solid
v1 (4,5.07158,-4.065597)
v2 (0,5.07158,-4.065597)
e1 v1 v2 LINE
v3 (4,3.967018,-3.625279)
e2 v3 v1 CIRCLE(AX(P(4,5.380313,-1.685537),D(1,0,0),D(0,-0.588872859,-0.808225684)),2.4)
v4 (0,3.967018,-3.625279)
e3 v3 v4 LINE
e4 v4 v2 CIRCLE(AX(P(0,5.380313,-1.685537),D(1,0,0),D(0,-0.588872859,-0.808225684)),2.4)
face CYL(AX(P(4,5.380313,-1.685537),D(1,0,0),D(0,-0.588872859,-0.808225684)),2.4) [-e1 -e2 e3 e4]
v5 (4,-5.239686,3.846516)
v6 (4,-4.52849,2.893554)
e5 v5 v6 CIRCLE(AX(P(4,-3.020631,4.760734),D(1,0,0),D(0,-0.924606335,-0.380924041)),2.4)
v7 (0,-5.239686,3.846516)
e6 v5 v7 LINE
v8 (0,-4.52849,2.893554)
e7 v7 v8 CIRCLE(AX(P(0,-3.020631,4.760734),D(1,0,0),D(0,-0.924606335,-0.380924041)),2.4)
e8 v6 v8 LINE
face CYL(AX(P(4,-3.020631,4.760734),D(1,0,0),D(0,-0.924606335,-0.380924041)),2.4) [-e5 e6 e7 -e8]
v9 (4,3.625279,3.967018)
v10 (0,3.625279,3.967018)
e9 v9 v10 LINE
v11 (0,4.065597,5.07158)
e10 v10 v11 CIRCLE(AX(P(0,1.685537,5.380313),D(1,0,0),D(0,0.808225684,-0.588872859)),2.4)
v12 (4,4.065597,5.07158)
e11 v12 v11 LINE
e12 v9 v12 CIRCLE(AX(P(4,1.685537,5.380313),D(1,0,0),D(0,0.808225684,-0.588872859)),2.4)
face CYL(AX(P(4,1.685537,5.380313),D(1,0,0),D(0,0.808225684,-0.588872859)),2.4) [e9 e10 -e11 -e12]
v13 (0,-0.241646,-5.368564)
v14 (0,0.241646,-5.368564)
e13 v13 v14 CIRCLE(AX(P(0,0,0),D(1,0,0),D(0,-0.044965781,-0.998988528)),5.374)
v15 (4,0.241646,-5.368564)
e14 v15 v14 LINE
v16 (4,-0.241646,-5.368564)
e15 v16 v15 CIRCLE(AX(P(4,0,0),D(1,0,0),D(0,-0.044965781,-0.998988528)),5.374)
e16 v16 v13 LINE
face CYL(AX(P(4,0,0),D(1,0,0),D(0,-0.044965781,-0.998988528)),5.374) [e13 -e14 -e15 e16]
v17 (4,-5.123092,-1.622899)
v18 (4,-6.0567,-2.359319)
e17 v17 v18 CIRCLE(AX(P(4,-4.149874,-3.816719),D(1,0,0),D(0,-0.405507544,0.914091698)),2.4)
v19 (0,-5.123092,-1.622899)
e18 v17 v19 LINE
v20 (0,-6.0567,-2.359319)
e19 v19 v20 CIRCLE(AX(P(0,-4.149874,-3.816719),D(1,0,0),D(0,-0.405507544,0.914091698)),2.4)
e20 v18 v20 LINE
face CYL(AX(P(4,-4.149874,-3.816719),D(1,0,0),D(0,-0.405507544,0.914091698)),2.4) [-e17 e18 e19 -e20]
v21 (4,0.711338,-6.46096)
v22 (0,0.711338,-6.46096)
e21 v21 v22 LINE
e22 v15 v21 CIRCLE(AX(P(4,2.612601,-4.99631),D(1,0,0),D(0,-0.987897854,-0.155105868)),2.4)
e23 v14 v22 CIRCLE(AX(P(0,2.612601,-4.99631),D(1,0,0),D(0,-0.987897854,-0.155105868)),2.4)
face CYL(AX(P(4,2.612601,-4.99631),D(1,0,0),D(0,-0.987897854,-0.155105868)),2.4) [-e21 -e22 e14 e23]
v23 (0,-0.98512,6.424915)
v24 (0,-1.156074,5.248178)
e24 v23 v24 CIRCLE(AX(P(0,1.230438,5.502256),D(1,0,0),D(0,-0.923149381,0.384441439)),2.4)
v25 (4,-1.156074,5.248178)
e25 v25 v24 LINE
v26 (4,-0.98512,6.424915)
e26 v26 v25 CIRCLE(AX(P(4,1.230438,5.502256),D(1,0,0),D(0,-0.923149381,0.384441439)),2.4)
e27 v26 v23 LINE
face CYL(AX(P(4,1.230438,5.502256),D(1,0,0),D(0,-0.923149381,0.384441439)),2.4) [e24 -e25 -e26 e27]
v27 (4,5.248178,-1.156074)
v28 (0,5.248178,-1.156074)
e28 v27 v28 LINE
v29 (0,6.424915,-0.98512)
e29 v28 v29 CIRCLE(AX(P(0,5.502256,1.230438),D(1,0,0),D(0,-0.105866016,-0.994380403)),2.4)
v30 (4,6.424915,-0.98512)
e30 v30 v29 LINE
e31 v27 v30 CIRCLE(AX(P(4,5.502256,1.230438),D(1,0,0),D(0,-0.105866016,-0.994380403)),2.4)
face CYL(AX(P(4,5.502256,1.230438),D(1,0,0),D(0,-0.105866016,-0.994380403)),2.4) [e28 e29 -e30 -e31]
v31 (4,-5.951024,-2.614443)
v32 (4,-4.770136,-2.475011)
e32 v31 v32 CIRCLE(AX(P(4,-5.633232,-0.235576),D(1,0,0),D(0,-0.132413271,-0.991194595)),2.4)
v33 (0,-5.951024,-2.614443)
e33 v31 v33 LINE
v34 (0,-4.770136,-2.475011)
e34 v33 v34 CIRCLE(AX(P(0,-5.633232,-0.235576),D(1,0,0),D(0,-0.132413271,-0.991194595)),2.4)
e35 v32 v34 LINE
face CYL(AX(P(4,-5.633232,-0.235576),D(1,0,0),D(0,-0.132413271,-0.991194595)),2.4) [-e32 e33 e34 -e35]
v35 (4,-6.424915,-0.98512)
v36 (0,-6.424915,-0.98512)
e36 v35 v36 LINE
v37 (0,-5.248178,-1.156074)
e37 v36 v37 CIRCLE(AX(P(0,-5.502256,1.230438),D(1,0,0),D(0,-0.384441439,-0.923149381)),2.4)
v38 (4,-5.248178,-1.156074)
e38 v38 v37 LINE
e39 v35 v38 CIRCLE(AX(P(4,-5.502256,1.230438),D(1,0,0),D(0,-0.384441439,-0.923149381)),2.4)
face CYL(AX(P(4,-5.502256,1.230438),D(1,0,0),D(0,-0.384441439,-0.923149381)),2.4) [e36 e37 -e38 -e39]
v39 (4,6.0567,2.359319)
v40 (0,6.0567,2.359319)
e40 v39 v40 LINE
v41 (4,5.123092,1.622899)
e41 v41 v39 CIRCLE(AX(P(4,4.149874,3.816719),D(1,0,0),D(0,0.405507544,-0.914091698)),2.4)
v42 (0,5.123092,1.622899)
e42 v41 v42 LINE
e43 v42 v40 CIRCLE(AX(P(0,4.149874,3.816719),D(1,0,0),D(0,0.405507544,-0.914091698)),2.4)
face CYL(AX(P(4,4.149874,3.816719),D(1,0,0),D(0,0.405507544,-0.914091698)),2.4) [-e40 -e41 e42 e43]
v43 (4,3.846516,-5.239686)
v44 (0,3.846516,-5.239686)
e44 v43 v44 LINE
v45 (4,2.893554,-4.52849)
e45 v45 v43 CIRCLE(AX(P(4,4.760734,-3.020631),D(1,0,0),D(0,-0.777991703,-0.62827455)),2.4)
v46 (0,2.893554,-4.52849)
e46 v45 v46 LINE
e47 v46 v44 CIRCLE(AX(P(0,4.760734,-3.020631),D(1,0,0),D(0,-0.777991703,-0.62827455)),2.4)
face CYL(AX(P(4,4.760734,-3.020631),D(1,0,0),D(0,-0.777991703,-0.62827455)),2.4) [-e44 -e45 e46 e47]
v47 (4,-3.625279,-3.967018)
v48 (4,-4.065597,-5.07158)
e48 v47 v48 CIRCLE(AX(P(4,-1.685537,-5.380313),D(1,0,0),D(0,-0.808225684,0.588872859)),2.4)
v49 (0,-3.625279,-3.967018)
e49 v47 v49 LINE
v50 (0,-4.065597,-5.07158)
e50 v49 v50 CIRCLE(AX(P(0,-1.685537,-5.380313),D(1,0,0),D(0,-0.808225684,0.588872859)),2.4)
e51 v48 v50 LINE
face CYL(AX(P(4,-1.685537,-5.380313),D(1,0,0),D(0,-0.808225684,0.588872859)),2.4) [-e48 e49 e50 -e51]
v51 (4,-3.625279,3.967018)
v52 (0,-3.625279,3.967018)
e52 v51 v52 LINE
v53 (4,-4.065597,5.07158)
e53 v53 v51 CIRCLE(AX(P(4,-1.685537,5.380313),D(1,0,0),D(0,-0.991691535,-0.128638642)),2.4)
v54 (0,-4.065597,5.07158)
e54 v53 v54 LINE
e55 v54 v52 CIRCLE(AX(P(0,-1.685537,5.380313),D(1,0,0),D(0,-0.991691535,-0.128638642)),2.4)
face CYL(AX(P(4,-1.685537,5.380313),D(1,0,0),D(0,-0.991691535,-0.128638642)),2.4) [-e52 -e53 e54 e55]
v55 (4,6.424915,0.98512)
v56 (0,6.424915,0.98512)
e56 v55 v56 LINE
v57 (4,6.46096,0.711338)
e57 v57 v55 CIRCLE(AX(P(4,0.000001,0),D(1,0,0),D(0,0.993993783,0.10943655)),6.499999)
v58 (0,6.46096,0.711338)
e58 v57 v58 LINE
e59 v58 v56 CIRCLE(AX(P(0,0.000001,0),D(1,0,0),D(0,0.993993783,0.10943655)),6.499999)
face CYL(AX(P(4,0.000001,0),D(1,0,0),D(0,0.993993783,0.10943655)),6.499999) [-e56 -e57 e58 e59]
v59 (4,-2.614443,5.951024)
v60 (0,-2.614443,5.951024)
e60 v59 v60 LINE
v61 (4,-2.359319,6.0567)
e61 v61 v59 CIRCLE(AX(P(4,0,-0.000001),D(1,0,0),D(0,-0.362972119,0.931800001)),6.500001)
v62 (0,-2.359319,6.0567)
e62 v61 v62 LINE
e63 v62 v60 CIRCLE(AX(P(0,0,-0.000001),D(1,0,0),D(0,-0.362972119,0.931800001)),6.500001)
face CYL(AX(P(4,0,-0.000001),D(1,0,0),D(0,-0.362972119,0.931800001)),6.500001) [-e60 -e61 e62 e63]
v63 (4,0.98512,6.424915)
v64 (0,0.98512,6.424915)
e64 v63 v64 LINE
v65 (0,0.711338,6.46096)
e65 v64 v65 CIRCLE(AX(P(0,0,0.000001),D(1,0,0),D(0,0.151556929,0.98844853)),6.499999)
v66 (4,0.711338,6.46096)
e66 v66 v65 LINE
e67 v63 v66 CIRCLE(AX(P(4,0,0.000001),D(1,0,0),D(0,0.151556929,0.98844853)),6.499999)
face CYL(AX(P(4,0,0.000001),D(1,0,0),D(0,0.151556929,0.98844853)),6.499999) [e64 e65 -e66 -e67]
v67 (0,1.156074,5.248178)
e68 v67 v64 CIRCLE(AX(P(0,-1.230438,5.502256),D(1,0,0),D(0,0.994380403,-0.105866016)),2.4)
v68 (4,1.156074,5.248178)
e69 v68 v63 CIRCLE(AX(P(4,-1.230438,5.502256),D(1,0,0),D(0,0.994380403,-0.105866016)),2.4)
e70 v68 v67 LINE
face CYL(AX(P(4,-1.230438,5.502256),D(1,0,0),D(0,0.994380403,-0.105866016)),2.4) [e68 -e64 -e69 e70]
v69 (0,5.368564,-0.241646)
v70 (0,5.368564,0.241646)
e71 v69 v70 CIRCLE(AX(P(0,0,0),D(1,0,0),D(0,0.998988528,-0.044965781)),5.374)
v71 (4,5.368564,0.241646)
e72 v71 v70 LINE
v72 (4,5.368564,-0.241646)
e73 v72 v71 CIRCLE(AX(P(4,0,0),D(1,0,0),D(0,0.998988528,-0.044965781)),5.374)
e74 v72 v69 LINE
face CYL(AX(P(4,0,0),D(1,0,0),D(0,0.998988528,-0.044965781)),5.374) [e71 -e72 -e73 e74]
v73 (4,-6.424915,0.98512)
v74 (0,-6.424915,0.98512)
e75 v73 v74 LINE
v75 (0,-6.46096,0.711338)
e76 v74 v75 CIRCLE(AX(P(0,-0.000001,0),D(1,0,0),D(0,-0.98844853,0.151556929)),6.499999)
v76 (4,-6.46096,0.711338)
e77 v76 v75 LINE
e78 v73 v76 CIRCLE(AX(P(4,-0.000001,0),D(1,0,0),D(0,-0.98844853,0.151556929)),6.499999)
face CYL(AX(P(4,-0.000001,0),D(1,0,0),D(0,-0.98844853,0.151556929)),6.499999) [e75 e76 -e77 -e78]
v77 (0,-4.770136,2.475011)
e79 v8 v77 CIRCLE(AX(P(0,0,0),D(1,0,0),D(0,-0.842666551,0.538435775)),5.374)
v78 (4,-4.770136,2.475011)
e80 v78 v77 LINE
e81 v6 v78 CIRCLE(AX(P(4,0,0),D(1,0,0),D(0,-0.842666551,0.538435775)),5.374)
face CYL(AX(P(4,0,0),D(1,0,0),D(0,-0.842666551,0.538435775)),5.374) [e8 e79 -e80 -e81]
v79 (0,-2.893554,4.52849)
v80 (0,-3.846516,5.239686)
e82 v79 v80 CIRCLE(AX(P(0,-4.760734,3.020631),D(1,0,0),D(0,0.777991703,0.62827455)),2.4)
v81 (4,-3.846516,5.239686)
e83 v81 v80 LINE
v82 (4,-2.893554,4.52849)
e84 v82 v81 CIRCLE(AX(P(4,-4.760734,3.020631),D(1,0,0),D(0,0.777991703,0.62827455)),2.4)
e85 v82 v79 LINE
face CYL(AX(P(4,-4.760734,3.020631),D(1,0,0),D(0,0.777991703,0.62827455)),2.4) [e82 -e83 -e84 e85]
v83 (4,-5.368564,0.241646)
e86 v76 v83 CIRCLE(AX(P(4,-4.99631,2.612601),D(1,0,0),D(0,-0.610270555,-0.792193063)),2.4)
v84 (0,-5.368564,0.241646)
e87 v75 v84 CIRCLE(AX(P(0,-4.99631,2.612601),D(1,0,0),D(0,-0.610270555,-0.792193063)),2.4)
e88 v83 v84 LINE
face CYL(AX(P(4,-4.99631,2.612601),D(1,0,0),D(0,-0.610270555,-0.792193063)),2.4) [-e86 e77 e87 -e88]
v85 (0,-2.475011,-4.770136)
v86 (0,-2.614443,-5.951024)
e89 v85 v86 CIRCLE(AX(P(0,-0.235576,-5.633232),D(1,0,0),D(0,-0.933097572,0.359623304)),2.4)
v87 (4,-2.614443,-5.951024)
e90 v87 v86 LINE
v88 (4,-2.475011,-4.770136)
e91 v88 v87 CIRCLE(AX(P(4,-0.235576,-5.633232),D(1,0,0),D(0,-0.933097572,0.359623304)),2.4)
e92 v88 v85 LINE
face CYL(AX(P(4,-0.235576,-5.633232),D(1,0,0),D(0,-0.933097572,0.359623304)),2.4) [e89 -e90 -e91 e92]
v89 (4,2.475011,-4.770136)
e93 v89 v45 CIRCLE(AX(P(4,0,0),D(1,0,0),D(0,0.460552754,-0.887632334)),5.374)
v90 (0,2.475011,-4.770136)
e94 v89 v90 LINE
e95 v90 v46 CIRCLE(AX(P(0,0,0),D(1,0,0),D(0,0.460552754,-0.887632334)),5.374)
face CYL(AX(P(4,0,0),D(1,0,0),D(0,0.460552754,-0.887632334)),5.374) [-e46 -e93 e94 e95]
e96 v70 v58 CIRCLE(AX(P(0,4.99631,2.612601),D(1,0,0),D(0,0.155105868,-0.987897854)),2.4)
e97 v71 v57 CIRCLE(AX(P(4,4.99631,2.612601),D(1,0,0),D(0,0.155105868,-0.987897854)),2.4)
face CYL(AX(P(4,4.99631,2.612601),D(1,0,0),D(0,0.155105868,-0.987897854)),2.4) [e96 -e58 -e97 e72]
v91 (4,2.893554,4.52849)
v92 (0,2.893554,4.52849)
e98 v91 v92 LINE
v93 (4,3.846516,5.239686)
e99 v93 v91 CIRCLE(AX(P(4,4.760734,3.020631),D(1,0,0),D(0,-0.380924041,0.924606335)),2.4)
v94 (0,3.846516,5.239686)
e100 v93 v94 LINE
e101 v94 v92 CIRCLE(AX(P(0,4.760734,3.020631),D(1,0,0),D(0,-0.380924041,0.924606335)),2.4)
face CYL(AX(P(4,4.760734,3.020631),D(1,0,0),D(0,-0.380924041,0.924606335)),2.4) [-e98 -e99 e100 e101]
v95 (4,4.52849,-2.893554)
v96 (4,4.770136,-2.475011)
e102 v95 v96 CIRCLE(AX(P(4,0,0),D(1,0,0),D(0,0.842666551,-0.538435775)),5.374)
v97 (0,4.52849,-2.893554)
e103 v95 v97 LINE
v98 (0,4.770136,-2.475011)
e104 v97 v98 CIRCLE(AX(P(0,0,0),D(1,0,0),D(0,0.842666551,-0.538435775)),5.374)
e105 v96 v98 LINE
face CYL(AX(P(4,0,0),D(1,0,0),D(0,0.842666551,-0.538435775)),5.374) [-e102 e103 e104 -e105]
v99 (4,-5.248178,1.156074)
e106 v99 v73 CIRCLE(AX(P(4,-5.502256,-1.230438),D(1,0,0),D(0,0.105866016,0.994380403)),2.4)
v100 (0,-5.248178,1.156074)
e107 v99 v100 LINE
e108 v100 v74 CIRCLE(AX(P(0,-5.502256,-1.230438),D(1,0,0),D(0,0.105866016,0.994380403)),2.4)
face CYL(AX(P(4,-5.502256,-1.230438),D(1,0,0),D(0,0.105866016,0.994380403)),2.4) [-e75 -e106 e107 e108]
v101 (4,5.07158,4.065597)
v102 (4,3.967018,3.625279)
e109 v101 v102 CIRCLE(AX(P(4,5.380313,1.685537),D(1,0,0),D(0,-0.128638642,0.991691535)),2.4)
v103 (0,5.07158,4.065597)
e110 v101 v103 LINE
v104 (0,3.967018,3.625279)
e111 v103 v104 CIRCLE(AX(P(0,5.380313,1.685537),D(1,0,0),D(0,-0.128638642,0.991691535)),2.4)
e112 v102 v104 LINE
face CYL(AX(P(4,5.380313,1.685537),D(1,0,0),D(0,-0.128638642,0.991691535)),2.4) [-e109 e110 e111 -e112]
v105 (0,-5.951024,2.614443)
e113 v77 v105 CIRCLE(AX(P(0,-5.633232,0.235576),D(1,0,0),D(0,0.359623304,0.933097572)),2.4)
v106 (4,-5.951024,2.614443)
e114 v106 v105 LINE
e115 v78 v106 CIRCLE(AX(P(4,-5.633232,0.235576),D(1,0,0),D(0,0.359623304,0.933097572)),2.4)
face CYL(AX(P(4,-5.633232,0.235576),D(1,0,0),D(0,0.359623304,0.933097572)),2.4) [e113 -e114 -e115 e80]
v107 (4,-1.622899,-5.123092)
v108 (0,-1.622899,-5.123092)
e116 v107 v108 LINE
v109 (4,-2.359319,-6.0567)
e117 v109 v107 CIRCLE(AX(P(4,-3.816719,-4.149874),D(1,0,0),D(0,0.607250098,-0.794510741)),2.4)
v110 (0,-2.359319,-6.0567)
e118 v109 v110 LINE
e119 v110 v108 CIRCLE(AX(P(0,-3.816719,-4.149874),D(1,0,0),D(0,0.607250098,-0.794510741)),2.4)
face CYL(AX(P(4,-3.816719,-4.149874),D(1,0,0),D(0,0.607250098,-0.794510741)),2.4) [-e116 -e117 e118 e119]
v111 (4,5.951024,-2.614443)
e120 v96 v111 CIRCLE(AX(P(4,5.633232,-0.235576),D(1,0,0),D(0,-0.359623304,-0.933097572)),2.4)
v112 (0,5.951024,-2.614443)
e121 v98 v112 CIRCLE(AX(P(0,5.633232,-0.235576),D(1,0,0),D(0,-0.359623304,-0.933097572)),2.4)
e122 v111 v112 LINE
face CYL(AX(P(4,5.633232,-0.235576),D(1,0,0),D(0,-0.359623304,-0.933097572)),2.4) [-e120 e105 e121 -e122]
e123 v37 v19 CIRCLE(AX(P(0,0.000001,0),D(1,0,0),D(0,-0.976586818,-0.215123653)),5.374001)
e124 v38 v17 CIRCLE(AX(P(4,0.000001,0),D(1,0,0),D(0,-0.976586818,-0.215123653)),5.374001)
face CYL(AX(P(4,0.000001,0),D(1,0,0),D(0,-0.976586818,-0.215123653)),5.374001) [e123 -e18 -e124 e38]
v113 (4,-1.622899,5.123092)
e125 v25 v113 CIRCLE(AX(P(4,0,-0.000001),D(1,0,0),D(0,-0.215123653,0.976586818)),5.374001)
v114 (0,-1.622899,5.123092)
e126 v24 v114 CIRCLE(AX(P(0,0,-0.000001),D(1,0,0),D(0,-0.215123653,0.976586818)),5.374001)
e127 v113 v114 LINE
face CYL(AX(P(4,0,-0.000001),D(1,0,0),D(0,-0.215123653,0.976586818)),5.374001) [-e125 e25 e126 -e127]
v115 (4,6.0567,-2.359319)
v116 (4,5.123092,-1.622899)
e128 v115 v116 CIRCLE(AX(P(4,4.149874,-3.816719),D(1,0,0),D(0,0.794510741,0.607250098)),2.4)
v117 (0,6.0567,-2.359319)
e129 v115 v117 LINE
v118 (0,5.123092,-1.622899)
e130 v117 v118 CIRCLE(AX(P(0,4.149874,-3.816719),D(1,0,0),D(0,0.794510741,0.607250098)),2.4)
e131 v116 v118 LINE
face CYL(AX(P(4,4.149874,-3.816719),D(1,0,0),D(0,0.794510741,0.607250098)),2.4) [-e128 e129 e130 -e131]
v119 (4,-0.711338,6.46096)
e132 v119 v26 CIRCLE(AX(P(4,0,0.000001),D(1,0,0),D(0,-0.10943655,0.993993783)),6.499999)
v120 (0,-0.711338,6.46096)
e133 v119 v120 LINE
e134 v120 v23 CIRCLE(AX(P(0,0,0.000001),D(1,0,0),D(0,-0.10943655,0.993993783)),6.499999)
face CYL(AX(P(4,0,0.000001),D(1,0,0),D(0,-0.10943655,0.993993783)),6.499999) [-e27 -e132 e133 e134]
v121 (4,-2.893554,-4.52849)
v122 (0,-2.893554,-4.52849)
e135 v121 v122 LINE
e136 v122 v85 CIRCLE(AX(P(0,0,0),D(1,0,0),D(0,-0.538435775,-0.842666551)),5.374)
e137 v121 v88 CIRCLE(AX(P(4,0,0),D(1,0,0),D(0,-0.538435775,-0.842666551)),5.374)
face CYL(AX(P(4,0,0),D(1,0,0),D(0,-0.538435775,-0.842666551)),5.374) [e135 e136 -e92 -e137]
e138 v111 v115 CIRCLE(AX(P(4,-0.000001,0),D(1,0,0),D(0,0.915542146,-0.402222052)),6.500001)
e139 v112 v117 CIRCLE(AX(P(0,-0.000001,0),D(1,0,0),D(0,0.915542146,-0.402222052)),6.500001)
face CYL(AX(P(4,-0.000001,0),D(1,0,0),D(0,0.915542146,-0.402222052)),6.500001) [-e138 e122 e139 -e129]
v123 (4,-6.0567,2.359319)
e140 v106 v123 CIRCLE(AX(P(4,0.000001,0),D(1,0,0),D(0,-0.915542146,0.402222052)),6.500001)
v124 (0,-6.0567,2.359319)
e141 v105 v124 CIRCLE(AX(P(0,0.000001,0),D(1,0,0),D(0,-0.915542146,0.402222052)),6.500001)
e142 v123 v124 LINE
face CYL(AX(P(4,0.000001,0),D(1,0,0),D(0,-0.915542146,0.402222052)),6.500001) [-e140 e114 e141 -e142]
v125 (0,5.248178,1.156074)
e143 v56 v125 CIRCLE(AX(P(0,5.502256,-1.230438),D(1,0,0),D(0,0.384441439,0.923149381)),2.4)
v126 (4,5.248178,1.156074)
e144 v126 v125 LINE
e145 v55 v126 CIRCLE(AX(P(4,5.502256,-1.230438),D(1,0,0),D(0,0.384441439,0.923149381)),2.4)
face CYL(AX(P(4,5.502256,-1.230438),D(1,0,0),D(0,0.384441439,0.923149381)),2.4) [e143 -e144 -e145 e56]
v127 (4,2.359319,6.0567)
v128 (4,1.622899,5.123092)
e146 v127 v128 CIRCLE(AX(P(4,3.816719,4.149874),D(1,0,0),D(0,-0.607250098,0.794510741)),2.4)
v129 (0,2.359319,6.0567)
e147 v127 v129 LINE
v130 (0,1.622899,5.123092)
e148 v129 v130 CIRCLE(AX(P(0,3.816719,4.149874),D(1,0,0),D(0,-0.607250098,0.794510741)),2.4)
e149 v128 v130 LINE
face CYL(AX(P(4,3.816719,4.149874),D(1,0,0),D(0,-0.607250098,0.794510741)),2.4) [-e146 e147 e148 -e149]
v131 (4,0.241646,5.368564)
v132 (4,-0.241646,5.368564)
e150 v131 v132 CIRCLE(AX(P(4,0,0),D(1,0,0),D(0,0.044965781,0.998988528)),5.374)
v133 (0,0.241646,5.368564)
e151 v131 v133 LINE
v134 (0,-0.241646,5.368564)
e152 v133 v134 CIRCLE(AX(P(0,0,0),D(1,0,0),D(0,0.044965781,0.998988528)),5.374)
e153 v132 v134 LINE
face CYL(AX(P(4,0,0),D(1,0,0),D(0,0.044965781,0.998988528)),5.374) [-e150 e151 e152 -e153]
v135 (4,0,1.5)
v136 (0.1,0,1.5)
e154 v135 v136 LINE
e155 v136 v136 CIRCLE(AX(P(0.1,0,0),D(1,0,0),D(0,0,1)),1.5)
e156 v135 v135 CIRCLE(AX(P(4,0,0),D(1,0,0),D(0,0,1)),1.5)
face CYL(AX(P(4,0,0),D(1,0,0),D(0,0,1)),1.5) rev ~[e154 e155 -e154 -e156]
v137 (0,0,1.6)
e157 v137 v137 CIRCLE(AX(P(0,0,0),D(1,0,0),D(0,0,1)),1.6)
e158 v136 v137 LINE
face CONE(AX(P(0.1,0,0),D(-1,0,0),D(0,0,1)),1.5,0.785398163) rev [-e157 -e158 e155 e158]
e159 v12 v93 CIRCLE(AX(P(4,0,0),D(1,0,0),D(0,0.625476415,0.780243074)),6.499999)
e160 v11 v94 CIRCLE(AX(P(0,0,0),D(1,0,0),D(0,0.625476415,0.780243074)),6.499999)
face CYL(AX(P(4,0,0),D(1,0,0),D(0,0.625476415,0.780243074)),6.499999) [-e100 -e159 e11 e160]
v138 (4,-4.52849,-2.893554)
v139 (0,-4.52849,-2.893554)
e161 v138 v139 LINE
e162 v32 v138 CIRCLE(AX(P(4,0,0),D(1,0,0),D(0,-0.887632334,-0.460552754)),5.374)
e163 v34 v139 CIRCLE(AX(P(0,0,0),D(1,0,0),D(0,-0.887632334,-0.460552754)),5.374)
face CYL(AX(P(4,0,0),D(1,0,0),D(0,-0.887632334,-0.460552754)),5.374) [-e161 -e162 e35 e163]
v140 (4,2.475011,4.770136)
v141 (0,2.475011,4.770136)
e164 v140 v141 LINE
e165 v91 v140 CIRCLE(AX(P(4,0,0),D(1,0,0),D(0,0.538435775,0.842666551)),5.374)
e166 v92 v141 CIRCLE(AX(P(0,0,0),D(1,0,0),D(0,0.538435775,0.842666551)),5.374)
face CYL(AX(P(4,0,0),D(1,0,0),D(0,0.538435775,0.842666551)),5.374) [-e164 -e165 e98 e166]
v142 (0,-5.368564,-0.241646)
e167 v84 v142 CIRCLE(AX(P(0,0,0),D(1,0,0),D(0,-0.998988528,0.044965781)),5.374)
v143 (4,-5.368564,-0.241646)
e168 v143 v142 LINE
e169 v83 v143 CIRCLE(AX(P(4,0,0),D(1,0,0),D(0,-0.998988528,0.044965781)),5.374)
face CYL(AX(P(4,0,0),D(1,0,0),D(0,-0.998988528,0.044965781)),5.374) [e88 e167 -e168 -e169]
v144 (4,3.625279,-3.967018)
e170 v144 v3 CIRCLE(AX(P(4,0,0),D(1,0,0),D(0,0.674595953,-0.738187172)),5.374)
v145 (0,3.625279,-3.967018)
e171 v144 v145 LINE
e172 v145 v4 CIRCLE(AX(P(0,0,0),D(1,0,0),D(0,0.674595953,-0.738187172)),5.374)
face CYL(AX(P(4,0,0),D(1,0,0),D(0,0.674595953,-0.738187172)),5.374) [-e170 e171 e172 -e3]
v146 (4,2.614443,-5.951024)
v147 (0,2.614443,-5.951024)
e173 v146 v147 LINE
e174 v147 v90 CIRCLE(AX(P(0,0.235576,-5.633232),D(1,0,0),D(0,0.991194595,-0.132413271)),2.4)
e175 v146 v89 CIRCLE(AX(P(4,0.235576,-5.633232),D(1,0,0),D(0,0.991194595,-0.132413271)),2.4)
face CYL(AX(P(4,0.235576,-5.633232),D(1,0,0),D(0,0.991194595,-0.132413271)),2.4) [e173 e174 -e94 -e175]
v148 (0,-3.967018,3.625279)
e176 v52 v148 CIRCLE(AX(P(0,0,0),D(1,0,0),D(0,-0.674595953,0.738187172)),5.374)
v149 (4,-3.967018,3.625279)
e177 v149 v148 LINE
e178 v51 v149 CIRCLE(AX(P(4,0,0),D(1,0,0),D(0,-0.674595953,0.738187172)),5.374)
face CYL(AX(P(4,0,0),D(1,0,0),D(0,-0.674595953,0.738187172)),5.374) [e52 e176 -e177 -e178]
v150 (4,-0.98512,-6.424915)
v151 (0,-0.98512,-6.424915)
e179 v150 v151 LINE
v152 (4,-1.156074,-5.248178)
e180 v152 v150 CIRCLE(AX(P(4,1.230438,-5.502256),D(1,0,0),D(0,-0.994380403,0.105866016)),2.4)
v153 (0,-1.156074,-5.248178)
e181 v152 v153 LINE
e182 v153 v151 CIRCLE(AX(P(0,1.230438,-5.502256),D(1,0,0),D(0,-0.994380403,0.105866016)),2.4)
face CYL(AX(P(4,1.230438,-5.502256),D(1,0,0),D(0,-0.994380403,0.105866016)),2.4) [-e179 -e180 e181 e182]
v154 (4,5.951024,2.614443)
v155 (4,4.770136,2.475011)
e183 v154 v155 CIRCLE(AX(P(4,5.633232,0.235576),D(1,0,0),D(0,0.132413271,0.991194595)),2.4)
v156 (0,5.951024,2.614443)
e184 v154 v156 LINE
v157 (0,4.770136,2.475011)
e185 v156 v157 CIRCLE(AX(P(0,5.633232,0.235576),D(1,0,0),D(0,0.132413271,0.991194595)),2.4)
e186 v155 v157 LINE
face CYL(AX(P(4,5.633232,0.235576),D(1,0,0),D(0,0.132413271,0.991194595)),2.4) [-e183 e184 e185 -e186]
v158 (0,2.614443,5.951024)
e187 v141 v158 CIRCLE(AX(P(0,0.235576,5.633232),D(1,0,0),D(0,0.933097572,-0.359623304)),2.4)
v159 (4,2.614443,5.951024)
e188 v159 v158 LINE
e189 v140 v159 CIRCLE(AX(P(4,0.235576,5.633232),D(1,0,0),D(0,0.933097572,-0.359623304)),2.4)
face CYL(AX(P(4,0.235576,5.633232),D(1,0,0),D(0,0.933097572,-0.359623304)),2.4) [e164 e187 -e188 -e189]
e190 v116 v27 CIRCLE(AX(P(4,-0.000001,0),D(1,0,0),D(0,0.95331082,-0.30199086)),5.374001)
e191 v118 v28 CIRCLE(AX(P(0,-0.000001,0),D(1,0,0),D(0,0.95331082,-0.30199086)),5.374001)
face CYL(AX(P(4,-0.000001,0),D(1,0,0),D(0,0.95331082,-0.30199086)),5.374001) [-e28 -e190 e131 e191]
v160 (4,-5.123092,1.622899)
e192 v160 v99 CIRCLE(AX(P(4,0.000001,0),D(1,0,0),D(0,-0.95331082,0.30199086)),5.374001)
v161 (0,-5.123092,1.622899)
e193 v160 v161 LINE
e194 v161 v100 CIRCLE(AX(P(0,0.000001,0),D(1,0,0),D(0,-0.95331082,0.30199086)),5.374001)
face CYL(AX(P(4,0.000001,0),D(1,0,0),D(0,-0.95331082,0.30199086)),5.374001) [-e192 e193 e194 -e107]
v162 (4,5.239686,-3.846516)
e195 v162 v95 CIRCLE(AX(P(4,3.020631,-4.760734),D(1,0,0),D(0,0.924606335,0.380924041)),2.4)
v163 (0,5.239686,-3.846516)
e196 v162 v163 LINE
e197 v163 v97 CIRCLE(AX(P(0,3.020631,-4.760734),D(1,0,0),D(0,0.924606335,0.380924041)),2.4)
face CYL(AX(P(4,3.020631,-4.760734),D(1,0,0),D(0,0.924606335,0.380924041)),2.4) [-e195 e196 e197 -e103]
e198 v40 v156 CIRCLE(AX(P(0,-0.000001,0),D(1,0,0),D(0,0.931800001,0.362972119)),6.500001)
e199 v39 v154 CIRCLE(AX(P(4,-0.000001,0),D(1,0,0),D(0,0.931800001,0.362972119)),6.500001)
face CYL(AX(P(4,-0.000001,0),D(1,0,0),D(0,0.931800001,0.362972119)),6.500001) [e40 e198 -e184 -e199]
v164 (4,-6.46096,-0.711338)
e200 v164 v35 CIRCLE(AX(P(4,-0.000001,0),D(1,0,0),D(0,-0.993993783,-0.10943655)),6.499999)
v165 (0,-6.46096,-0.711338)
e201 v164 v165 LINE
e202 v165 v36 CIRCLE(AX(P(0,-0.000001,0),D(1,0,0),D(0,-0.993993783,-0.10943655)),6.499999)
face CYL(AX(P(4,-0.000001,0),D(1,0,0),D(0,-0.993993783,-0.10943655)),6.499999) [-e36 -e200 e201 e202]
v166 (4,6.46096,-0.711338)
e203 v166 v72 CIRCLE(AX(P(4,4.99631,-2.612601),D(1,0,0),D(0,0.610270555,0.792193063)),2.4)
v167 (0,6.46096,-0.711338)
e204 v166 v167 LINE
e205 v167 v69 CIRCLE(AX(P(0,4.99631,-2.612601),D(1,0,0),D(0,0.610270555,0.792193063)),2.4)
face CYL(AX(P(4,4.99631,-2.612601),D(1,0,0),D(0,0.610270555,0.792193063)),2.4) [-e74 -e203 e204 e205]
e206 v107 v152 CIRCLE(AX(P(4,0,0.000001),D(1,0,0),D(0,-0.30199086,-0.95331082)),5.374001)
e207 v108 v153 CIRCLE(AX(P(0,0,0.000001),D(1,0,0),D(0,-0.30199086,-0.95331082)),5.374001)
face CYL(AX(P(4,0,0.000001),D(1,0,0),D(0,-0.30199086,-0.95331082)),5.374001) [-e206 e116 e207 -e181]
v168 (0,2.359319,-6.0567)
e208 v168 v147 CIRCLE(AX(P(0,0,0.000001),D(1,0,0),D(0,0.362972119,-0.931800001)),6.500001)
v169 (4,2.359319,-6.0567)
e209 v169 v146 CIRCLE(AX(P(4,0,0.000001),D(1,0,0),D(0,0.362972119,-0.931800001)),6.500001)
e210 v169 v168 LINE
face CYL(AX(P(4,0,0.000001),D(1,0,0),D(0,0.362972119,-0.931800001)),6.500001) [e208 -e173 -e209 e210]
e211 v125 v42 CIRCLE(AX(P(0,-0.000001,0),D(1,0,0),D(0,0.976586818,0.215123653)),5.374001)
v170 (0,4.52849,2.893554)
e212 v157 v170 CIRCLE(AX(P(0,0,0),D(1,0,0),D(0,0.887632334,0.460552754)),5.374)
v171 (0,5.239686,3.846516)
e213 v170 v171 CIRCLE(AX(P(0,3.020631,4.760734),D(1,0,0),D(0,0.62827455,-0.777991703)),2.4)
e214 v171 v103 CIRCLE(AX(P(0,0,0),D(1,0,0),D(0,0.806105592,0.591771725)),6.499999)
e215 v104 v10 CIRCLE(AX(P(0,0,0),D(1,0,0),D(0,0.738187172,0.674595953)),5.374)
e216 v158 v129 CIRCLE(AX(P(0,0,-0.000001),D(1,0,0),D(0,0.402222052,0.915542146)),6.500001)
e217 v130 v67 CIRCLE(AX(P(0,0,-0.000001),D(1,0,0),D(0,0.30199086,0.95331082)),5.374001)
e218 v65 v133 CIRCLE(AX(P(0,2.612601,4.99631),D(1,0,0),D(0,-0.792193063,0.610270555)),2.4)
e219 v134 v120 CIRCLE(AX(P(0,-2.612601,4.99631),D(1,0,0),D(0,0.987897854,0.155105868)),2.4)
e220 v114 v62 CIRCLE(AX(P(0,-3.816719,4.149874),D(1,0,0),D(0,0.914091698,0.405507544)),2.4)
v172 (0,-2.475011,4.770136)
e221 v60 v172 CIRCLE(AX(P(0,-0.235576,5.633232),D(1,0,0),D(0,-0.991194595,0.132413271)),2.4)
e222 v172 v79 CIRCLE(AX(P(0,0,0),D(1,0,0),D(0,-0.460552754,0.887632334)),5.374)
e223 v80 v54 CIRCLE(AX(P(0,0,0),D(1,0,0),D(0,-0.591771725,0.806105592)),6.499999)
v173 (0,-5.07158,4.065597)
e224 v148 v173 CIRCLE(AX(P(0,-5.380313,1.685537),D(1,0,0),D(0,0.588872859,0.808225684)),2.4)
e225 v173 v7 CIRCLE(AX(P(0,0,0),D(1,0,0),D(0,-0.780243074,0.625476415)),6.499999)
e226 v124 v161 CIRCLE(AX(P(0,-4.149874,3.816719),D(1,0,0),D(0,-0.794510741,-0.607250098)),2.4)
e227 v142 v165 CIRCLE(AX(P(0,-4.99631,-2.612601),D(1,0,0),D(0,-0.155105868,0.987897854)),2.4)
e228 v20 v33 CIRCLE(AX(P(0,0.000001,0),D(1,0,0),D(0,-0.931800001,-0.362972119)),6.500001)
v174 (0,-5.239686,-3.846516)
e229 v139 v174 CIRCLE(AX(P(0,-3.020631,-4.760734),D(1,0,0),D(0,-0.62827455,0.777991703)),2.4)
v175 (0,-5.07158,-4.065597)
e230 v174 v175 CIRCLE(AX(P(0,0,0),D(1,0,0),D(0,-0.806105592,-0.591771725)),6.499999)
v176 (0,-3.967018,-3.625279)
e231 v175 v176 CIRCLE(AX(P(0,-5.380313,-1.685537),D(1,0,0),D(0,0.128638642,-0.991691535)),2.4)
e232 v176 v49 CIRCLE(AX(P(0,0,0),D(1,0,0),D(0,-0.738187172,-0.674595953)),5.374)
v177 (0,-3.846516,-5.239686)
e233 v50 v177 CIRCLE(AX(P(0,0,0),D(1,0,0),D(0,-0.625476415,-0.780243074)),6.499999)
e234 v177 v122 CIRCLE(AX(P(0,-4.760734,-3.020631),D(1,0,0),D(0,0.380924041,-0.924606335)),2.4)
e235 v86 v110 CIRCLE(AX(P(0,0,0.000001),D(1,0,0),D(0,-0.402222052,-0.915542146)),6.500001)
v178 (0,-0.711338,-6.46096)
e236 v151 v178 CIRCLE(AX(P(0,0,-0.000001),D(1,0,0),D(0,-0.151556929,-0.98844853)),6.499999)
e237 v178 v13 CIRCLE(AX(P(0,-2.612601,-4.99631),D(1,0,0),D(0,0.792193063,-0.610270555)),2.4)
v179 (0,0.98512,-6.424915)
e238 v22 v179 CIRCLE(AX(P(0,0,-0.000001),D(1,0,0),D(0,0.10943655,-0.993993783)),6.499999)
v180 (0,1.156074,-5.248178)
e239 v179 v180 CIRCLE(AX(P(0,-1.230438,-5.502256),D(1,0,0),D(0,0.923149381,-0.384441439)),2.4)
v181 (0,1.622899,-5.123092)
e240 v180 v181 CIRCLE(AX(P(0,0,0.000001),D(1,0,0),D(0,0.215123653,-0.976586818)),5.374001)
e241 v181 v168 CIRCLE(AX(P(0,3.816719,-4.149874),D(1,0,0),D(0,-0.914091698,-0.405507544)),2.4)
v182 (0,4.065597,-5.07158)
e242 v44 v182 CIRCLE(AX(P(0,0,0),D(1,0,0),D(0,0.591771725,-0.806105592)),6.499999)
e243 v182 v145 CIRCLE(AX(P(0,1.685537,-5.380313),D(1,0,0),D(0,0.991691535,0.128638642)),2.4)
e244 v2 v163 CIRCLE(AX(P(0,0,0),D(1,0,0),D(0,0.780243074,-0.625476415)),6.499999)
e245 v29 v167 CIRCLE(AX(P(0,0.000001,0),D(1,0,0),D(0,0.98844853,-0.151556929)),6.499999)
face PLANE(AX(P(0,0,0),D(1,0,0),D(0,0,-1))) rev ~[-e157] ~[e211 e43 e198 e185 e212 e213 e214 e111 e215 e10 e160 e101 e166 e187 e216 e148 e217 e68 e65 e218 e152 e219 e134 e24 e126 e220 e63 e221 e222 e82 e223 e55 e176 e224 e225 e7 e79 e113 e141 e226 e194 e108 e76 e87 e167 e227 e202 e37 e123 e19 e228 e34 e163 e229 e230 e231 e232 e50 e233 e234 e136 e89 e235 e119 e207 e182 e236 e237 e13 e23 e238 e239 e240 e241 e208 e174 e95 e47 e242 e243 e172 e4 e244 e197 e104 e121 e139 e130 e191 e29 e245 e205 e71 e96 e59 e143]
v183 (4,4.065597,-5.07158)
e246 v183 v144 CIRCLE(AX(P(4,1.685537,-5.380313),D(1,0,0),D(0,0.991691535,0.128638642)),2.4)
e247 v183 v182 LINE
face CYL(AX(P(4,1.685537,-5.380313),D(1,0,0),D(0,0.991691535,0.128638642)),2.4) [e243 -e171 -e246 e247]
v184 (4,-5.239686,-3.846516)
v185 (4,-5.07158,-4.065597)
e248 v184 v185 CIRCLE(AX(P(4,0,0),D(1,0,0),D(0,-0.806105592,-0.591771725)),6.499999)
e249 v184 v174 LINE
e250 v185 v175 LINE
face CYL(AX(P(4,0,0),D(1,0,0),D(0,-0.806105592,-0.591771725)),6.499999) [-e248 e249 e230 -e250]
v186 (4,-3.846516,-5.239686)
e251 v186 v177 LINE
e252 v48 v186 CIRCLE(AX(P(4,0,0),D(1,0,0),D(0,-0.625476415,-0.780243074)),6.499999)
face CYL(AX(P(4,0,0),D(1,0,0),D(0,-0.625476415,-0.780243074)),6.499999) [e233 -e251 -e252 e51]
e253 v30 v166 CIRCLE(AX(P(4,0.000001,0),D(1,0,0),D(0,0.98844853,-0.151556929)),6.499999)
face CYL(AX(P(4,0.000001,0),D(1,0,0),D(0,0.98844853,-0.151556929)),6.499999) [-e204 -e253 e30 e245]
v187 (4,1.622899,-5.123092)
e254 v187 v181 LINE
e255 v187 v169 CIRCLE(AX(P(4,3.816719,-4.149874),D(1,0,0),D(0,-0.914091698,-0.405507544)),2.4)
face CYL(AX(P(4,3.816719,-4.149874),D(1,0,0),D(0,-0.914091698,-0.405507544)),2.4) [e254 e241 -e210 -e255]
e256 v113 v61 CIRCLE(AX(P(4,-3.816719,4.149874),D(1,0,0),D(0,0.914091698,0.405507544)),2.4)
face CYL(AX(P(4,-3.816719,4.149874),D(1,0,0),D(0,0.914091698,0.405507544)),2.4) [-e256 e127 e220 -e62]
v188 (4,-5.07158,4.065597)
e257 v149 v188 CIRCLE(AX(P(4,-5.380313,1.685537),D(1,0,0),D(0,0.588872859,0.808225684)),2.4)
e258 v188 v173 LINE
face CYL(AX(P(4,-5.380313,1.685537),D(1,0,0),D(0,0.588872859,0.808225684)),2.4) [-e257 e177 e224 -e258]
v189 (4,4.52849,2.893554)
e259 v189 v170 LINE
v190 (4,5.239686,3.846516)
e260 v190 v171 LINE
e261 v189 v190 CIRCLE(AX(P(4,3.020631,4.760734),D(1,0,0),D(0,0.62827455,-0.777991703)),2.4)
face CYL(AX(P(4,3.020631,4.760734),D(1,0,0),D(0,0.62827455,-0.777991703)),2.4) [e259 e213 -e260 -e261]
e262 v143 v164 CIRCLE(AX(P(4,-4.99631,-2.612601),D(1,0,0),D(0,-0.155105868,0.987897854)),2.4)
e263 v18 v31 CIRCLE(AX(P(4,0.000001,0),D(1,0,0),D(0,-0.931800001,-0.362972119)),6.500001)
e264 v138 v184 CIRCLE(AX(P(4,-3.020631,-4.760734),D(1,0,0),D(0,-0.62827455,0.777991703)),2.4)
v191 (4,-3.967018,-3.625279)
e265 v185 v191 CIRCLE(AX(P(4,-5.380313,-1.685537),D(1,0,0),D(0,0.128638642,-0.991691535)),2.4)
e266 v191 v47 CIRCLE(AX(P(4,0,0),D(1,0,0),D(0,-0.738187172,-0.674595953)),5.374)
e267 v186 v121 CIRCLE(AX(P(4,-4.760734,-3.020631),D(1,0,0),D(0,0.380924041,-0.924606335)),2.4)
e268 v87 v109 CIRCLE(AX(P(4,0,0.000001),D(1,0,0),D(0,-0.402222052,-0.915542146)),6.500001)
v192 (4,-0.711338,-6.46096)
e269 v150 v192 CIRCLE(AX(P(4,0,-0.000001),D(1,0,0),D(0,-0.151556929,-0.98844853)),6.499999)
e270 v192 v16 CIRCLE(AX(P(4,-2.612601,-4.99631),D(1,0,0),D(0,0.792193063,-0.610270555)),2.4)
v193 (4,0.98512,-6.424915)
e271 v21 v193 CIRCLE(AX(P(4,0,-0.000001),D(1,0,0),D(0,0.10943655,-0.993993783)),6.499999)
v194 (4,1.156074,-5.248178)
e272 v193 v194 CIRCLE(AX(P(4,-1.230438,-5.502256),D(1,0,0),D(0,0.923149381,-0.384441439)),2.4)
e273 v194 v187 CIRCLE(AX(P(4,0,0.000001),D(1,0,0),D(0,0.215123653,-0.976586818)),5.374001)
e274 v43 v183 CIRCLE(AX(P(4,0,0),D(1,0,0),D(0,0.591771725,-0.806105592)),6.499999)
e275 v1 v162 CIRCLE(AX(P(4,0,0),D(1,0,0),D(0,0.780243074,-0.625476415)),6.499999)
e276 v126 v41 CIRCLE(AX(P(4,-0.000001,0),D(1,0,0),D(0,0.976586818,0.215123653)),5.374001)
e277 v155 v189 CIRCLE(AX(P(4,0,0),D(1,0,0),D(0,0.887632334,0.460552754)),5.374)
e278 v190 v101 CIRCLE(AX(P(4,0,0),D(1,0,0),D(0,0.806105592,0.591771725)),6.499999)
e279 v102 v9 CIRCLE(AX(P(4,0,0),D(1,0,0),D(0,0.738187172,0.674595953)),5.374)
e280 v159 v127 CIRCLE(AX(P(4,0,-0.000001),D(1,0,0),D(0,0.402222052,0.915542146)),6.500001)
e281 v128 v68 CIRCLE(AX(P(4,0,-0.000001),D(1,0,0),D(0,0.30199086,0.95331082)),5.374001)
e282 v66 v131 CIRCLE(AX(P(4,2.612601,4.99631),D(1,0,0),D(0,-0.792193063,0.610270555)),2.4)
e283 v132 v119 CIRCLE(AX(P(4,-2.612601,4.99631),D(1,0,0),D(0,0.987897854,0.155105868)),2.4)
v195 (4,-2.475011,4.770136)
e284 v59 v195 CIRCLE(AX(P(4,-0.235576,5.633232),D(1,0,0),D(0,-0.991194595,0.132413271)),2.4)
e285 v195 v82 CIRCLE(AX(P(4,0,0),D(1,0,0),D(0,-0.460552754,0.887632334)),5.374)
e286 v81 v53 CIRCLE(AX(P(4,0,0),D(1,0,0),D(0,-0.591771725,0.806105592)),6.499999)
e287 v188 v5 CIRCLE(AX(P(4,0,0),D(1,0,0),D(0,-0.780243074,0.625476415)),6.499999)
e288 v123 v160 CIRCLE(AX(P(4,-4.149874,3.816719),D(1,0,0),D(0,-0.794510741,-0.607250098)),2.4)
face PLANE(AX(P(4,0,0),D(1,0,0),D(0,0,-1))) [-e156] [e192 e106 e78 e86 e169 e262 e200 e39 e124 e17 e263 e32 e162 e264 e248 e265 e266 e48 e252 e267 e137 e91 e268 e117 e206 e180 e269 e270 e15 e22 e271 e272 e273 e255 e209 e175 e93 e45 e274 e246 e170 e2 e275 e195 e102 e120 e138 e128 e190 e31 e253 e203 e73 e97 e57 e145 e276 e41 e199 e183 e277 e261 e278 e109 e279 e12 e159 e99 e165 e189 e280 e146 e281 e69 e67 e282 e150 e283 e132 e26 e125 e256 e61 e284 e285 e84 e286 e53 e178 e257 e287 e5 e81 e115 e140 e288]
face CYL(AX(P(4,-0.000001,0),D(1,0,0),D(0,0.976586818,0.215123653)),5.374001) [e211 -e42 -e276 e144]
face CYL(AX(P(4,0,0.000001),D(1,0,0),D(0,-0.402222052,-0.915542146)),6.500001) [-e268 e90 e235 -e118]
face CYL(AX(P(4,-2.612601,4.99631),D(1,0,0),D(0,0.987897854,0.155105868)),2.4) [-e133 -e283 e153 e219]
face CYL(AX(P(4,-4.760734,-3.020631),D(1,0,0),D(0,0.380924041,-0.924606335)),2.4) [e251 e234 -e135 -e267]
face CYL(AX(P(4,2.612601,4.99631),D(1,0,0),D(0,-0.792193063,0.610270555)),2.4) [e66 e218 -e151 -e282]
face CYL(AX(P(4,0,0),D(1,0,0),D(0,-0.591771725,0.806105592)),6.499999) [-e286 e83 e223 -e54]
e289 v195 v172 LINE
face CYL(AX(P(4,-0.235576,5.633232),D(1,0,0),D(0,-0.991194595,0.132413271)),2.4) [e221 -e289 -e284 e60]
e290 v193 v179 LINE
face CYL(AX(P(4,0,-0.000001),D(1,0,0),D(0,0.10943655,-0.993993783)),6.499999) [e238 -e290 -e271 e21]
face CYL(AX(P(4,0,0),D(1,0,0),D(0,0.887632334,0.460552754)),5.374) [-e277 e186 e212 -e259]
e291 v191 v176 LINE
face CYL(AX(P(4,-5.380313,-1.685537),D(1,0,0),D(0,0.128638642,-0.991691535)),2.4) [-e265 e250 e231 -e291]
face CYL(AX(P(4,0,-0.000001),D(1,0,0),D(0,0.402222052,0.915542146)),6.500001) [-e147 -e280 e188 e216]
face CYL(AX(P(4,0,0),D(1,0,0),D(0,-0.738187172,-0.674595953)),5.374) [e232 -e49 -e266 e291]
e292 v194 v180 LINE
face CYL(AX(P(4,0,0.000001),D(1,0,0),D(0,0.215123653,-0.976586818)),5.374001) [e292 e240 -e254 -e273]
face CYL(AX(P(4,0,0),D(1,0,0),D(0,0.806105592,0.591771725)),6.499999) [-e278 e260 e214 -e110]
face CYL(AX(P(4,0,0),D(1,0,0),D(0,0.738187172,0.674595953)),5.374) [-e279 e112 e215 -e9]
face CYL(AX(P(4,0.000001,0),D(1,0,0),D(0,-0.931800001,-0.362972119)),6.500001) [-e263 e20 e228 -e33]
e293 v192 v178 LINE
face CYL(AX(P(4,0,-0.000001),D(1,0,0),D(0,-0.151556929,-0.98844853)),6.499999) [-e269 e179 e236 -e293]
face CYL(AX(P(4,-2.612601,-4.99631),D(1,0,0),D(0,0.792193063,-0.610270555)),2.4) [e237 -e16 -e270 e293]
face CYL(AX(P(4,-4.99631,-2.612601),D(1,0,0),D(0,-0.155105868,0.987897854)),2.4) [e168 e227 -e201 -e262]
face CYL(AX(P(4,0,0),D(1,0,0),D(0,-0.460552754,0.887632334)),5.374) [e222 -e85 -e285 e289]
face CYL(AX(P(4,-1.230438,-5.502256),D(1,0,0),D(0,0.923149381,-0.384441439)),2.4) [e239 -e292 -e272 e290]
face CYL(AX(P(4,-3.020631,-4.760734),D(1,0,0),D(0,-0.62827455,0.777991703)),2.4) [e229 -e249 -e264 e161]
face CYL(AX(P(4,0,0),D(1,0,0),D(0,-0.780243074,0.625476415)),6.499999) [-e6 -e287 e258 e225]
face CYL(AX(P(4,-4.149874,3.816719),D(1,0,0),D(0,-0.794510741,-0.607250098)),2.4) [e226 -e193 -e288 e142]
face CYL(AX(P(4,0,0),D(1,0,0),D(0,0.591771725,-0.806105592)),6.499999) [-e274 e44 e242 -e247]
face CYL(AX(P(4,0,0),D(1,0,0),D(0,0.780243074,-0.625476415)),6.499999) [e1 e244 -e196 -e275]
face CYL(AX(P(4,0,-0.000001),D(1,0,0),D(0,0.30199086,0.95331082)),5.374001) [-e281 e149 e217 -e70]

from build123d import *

# Parameters (mm, degrees)
SKETCH_1_R      = 1.5
EXTRUDE_1_DEPTH = 4
CHAMFER_1_SIZE  = 0.1


with BuildPart() as part:
    # 草图1 → 凸台-拉伸1 (new body)
    with BuildSketch(Plane(origin=(4, 0, 0), x_dir=(0, 0, -1), z_dir=(1, 0, 0))):
        with BuildLine():
            ThreePointArc((-5.368564348, 0.241646108), (-5.374, 0), (-5.368564348, -0.241646108))
            ThreePointArc((-5.368564348, -0.241646108), (-5.94431135, -0.407766737), (-6.460959589, -0.711337602))
            ThreePointArc((-6.460959589, -0.711337602), (-6.444391599, -0.848420249), (-6.424915449, -0.98512003))
            ThreePointArc((-6.424915449, -0.98512003), (-5.84730165, -1.144628565), (-5.248177569, -1.156074481))
            ThreePointArc((-5.248177569, -1.156074481), (-5.19088539, -1.390893548), (-5.123092339, -1.622898915))
            ThreePointArc((-5.123092339, -1.622898915), (-5.636226055, -1.93237341), (-6.056700011, -2.359318752))
            ThreePointArc((-6.056700011, -2.359318752), (-6.005216961, -2.48744231), (-5.951023938, -2.614443361))
            ThreePointArc((-5.951023938, -2.614443361), (-5.351808006, -2.619019322), (-4.770136161, -2.475010506))
            ThreePointArc((-4.770136161, -2.475010506), (-4.65402052, -2.687), (-4.528490053, -2.893553842))
            ThreePointArc((-4.528490053, -2.893553842), (-4.944041268, -3.325292028), (-5.239686336, -3.846516229))
            ThreePointArc((-5.239686336, -3.846516229), (-5.156796712, -3.956949289), (-5.071579981, -4.065596697))
            ThreePointArc((-5.071579981, -4.065596697), (-4.49159749, -3.91492824), (-3.967017857, -3.625278654))
            ThreePointArc((-3.967017857, -3.625278654), (-3.799991842, -3.799991842), (-3.625278654, -3.967017857))
            ThreePointArc((-3.625278654, -3.967017857), (-3.91492824, -4.49159749), (-4.065596697, -5.071579981))
            ThreePointArc((-4.065596697, -5.071579981), (-3.956949289, -5.156796712), (-3.846516229, -5.239686336))
            ThreePointArc((-3.846516229, -5.239686336), (-3.325292028, -4.944041268), (-2.893553842, -4.528490053))
            ThreePointArc((-2.893553842, -4.528490053), (-2.687, -4.65402052), (-2.475010506, -4.770136161))
            ThreePointArc((-2.475010506, -4.770136161), (-2.619019322, -5.351808006), (-2.614443361, -5.951023938))
            ThreePointArc((-2.614443361, -5.951023938), (-2.48744231, -6.005216961), (-2.359318752, -6.056700011))
            ThreePointArc((-2.359318752, -6.056700011), (-1.93237341, -5.636226055), (-1.622898915, -5.123092339))
            ThreePointArc((-1.622898915, -5.123092339), (-1.390893548, -5.19088539), (-1.156074481, -5.248177569))
            ThreePointArc((-1.156074481, -5.248177569), (-1.144628565, -5.84730165), (-0.98512003, -6.424915449))
            ThreePointArc((-0.98512003, -6.424915449), (-0.848420249, -6.444391599), (-0.711337602, -6.460959589))
            ThreePointArc((-0.711337602, -6.460959589), (-0.407766737, -5.94431135), (-0.241646108, -5.368564348))
            ThreePointArc((-0.241646108, -5.368564348), (0, -5.374), (0.241646108, -5.368564348))
            ThreePointArc((0.241646108, -5.368564348), (0.407766737, -5.94431135), (0.711337602, -6.460959589))
            ThreePointArc((0.711337602, -6.460959589), (0.848420249, -6.444391599), (0.98512003, -6.424915449))
            ThreePointArc((0.98512003, -6.424915449), (1.144628565, -5.84730165), (1.156074481, -5.248177569))
            ThreePointArc((1.156074481, -5.248177569), (1.390893548, -5.19088539), (1.622898915, -5.123092339))
            ThreePointArc((1.622898915, -5.123092339), (1.93237341, -5.636226055), (2.359318752, -6.056700011))
            ThreePointArc((2.359318752, -6.056700011), (2.48744231, -6.005216961), (2.614443361, -5.951023938))
            ThreePointArc((2.614443361, -5.951023938), (2.619019322, -5.351808006), (2.475010506, -4.770136161))
            ThreePointArc((2.475010506, -4.770136161), (2.687, -4.65402052), (2.893553842, -4.528490053))
            ThreePointArc((2.893553842, -4.528490053), (3.325292028, -4.944041268), (3.846516229, -5.239686336))
            ThreePointArc((3.846516229, -5.239686336), (3.956949289, -5.156796712), (4.065596697, -5.071579981))
            ThreePointArc((4.065596697, -5.071579981), (3.91492824, -4.49159749), (3.625278654, -3.967017857))
            ThreePointArc((3.625278654, -3.967017857), (3.799991842, -3.799991842), (3.967017857, -3.625278654))
            ThreePointArc((3.967017857, -3.625278654), (4.49159749, -3.91492824), (5.071579981, -4.065596697))
            ThreePointArc((5.071579981, -4.065596697), (5.156796712, -3.956949289), (5.239686336, -3.846516229))
            ThreePointArc((5.239686336, -3.846516229), (4.944041268, -3.325292028), (4.528490053, -2.893553842))
            ThreePointArc((4.528490053, -2.893553842), (4.65402052, -2.687), (4.770136161, -2.475010506))
            ThreePointArc((4.770136161, -2.475010506), (5.351808006, -2.619019322), (5.951023938, -2.614443361))
            ThreePointArc((5.951023938, -2.614443361), (6.005216961, -2.48744231), (6.056700011, -2.359318752))
            ThreePointArc((6.056700011, -2.359318752), (5.636226055, -1.93237341), (5.123092339, -1.622898915))
            ThreePointArc((5.123092339, -1.622898915), (5.19088539, -1.390893548), (5.248177569, -1.156074481))
            ThreePointArc((5.248177569, -1.156074481), (5.84730165, -1.144628565), (6.424915449, -0.98512003))
            ThreePointArc((6.424915449, -0.98512003), (6.444391599, -0.848420249), (6.460959589, -0.711337602))
            ThreePointArc((6.460959589, -0.711337602), (5.94431135, -0.407766737), (5.368564348, -0.241646108))
            ThreePointArc((5.368564348, -0.241646108), (5.374, 0), (5.368564348, 0.241646108))
            ThreePointArc((5.368564348, 0.241646108), (5.94431135, 0.407766737), (6.460959589, 0.711337602))
            ThreePointArc((6.460959589, 0.711337602), (6.444391599, 0.848420249), (6.424915449, 0.98512003))
            ThreePointArc((6.424915449, 0.98512003), (5.84730165, 1.144628565), (5.248177569, 1.156074481))
            ThreePointArc((5.248177569, 1.156074481), (5.19088539, 1.390893548), (5.123092339, 1.622898915))
            ThreePointArc((5.123092339, 1.622898915), (5.636226055, 1.93237341), (6.056700011, 2.359318752))
            ThreePointArc((6.056700011, 2.359318752), (6.005216961, 2.48744231), (5.951023938, 2.614443361))
            ThreePointArc((5.951023938, 2.614443361), (5.351808006, 2.619019322), (4.770136161, 2.475010506))
            ThreePointArc((4.770136161, 2.475010506), (4.65402052, 2.687), (4.528490053, 2.893553842))
            ThreePointArc((4.528490053, 2.893553842), (4.944041268, 3.325292028), (5.239686336, 3.846516229))
            ThreePointArc((5.239686336, 3.846516229), (5.156796712, 3.956949289), (5.071579981, 4.065596697))
            ThreePointArc((5.071579981, 4.065596697), (4.49159749, 3.91492824), (3.967017857, 3.625278654))
            ThreePointArc((3.967017857, 3.625278654), (3.799991842, 3.799991842), (3.625278654, 3.967017857))
            ThreePointArc((3.625278654, 3.967017857), (3.91492824, 4.49159749), (4.065596697, 5.071579981))
            ThreePointArc((4.065596697, 5.071579981), (3.956949289, 5.156796712), (3.846516229, 5.239686336))
            ThreePointArc((3.846516229, 5.239686336), (3.325292028, 4.944041268), (2.893553842, 4.528490053))
            ThreePointArc((2.893553842, 4.528490053), (2.687, 4.65402052), (2.475010506, 4.770136161))
            ThreePointArc((2.475010506, 4.770136161), (2.619019322, 5.351808006), (2.614443361, 5.951023938))
            ThreePointArc((2.614443361, 5.951023938), (2.48744231, 6.005216961), (2.359318752, 6.056700011))
            ThreePointArc((2.359318752, 6.056700011), (1.93237341, 5.636226055), (1.622898915, 5.123092339))
            ThreePointArc((1.622898915, 5.123092339), (1.390893548, 5.19088539), (1.156074481, 5.248177569))
            ThreePointArc((1.156074481, 5.248177569), (1.144628565, 5.84730165), (0.98512003, 6.424915449))
            ThreePointArc((0.98512003, 6.424915449), (0.848420249, 6.444391599), (0.711337602, 6.460959589))
            ThreePointArc((0.711337602, 6.460959589), (0.407766737, 5.94431135), (0.241646108, 5.368564348))
            ThreePointArc((0.241646108, 5.368564348), (0, 5.374), (-0.241646108, 5.368564348))
            ThreePointArc((-0.241646108, 5.368564348), (-0.407766737, 5.94431135), (-0.711337602, 6.460959589))
            ThreePointArc((-0.711337602, 6.460959589), (-0.848420249, 6.444391599), (-0.98512003, 6.424915449))
            ThreePointArc((-0.98512003, 6.424915449), (-1.144628565, 5.84730165), (-1.156074481, 5.248177569))
            ThreePointArc((-1.156074481, 5.248177569), (-1.390893548, 5.19088539), (-1.622898915, 5.123092339))
            ThreePointArc((-1.622898915, 5.123092339), (-1.93237341, 5.636226055), (-2.359318752, 6.056700011))
            ThreePointArc((-2.359318752, 6.056700011), (-2.48744231, 6.005216961), (-2.614443361, 5.951023938))
            ThreePointArc((-2.614443361, 5.951023938), (-2.619019322, 5.351808006), (-2.475010506, 4.770136161))
            ThreePointArc((-2.475010506, 4.770136161), (-2.687, 4.65402052), (-2.893553842, 4.528490053))
            ThreePointArc((-2.893553842, 4.528490053), (-3.325292028, 4.944041268), (-3.846516229, 5.239686336))
            ThreePointArc((-3.846516229, 5.239686336), (-3.956949289, 5.156796712), (-4.065596697, 5.071579981))
            ThreePointArc((-4.065596697, 5.071579981), (-3.91492824, 4.49159749), (-3.625278654, 3.967017857))
            ThreePointArc((-3.625278654, 3.967017857), (-3.799991842, 3.799991842), (-3.967017857, 3.625278654))
            ThreePointArc((-3.967017857, 3.625278654), (-4.49159749, 3.91492824), (-5.071579981, 4.065596697))
            ThreePointArc((-5.071579981, 4.065596697), (-5.156796712, 3.956949289), (-5.239686336, 3.846516229))
            ThreePointArc((-5.239686336, 3.846516229), (-4.944041268, 3.325292028), (-4.528490053, 2.893553842))
            ThreePointArc((-4.528490053, 2.893553842), (-4.65402052, 2.687), (-4.770136161, 2.475010506))
            ThreePointArc((-4.770136161, 2.475010506), (-5.351808006, 2.619019322), (-5.951023938, 2.614443361))
            ThreePointArc((-5.951023938, 2.614443361), (-6.005216961, 2.48744231), (-6.056700011, 2.359318752))
            ThreePointArc((-6.056700011, 2.359318752), (-5.636226055, 1.93237341), (-5.123092339, 1.622898915))
            ThreePointArc((-5.123092339, 1.622898915), (-5.19088539, 1.390893548), (-5.248177569, 1.156074481))
            ThreePointArc((-5.248177569, 1.156074481), (-5.84730165, 1.144628565), (-6.424915449, 0.98512003))
            ThreePointArc((-6.424915449, 0.98512003), (-6.444391599, 0.848420249), (-6.460959589, 0.711337602))
            ThreePointArc((-6.460959589, 0.711337602), (-5.94431135, 0.407766737), (-5.368564348, 0.241646108))
        make_face()
        with Locations(Location((0, 0, 0), (0, 0, 180))):
            Circle(SKETCH_1_R, mode=Mode.SUBTRACT)
    extrude(amount=-EXTRUDE_1_DEPTH)

    # 倒角1
    chamfer_1_edges = [part.edges().sort_by_distance(p)[0] for p in [
        (0, 0, -1.5),
    ]]
    chamfer(chamfer_1_edges, length=CHAMFER_1_SIZE)


solid = part.part
